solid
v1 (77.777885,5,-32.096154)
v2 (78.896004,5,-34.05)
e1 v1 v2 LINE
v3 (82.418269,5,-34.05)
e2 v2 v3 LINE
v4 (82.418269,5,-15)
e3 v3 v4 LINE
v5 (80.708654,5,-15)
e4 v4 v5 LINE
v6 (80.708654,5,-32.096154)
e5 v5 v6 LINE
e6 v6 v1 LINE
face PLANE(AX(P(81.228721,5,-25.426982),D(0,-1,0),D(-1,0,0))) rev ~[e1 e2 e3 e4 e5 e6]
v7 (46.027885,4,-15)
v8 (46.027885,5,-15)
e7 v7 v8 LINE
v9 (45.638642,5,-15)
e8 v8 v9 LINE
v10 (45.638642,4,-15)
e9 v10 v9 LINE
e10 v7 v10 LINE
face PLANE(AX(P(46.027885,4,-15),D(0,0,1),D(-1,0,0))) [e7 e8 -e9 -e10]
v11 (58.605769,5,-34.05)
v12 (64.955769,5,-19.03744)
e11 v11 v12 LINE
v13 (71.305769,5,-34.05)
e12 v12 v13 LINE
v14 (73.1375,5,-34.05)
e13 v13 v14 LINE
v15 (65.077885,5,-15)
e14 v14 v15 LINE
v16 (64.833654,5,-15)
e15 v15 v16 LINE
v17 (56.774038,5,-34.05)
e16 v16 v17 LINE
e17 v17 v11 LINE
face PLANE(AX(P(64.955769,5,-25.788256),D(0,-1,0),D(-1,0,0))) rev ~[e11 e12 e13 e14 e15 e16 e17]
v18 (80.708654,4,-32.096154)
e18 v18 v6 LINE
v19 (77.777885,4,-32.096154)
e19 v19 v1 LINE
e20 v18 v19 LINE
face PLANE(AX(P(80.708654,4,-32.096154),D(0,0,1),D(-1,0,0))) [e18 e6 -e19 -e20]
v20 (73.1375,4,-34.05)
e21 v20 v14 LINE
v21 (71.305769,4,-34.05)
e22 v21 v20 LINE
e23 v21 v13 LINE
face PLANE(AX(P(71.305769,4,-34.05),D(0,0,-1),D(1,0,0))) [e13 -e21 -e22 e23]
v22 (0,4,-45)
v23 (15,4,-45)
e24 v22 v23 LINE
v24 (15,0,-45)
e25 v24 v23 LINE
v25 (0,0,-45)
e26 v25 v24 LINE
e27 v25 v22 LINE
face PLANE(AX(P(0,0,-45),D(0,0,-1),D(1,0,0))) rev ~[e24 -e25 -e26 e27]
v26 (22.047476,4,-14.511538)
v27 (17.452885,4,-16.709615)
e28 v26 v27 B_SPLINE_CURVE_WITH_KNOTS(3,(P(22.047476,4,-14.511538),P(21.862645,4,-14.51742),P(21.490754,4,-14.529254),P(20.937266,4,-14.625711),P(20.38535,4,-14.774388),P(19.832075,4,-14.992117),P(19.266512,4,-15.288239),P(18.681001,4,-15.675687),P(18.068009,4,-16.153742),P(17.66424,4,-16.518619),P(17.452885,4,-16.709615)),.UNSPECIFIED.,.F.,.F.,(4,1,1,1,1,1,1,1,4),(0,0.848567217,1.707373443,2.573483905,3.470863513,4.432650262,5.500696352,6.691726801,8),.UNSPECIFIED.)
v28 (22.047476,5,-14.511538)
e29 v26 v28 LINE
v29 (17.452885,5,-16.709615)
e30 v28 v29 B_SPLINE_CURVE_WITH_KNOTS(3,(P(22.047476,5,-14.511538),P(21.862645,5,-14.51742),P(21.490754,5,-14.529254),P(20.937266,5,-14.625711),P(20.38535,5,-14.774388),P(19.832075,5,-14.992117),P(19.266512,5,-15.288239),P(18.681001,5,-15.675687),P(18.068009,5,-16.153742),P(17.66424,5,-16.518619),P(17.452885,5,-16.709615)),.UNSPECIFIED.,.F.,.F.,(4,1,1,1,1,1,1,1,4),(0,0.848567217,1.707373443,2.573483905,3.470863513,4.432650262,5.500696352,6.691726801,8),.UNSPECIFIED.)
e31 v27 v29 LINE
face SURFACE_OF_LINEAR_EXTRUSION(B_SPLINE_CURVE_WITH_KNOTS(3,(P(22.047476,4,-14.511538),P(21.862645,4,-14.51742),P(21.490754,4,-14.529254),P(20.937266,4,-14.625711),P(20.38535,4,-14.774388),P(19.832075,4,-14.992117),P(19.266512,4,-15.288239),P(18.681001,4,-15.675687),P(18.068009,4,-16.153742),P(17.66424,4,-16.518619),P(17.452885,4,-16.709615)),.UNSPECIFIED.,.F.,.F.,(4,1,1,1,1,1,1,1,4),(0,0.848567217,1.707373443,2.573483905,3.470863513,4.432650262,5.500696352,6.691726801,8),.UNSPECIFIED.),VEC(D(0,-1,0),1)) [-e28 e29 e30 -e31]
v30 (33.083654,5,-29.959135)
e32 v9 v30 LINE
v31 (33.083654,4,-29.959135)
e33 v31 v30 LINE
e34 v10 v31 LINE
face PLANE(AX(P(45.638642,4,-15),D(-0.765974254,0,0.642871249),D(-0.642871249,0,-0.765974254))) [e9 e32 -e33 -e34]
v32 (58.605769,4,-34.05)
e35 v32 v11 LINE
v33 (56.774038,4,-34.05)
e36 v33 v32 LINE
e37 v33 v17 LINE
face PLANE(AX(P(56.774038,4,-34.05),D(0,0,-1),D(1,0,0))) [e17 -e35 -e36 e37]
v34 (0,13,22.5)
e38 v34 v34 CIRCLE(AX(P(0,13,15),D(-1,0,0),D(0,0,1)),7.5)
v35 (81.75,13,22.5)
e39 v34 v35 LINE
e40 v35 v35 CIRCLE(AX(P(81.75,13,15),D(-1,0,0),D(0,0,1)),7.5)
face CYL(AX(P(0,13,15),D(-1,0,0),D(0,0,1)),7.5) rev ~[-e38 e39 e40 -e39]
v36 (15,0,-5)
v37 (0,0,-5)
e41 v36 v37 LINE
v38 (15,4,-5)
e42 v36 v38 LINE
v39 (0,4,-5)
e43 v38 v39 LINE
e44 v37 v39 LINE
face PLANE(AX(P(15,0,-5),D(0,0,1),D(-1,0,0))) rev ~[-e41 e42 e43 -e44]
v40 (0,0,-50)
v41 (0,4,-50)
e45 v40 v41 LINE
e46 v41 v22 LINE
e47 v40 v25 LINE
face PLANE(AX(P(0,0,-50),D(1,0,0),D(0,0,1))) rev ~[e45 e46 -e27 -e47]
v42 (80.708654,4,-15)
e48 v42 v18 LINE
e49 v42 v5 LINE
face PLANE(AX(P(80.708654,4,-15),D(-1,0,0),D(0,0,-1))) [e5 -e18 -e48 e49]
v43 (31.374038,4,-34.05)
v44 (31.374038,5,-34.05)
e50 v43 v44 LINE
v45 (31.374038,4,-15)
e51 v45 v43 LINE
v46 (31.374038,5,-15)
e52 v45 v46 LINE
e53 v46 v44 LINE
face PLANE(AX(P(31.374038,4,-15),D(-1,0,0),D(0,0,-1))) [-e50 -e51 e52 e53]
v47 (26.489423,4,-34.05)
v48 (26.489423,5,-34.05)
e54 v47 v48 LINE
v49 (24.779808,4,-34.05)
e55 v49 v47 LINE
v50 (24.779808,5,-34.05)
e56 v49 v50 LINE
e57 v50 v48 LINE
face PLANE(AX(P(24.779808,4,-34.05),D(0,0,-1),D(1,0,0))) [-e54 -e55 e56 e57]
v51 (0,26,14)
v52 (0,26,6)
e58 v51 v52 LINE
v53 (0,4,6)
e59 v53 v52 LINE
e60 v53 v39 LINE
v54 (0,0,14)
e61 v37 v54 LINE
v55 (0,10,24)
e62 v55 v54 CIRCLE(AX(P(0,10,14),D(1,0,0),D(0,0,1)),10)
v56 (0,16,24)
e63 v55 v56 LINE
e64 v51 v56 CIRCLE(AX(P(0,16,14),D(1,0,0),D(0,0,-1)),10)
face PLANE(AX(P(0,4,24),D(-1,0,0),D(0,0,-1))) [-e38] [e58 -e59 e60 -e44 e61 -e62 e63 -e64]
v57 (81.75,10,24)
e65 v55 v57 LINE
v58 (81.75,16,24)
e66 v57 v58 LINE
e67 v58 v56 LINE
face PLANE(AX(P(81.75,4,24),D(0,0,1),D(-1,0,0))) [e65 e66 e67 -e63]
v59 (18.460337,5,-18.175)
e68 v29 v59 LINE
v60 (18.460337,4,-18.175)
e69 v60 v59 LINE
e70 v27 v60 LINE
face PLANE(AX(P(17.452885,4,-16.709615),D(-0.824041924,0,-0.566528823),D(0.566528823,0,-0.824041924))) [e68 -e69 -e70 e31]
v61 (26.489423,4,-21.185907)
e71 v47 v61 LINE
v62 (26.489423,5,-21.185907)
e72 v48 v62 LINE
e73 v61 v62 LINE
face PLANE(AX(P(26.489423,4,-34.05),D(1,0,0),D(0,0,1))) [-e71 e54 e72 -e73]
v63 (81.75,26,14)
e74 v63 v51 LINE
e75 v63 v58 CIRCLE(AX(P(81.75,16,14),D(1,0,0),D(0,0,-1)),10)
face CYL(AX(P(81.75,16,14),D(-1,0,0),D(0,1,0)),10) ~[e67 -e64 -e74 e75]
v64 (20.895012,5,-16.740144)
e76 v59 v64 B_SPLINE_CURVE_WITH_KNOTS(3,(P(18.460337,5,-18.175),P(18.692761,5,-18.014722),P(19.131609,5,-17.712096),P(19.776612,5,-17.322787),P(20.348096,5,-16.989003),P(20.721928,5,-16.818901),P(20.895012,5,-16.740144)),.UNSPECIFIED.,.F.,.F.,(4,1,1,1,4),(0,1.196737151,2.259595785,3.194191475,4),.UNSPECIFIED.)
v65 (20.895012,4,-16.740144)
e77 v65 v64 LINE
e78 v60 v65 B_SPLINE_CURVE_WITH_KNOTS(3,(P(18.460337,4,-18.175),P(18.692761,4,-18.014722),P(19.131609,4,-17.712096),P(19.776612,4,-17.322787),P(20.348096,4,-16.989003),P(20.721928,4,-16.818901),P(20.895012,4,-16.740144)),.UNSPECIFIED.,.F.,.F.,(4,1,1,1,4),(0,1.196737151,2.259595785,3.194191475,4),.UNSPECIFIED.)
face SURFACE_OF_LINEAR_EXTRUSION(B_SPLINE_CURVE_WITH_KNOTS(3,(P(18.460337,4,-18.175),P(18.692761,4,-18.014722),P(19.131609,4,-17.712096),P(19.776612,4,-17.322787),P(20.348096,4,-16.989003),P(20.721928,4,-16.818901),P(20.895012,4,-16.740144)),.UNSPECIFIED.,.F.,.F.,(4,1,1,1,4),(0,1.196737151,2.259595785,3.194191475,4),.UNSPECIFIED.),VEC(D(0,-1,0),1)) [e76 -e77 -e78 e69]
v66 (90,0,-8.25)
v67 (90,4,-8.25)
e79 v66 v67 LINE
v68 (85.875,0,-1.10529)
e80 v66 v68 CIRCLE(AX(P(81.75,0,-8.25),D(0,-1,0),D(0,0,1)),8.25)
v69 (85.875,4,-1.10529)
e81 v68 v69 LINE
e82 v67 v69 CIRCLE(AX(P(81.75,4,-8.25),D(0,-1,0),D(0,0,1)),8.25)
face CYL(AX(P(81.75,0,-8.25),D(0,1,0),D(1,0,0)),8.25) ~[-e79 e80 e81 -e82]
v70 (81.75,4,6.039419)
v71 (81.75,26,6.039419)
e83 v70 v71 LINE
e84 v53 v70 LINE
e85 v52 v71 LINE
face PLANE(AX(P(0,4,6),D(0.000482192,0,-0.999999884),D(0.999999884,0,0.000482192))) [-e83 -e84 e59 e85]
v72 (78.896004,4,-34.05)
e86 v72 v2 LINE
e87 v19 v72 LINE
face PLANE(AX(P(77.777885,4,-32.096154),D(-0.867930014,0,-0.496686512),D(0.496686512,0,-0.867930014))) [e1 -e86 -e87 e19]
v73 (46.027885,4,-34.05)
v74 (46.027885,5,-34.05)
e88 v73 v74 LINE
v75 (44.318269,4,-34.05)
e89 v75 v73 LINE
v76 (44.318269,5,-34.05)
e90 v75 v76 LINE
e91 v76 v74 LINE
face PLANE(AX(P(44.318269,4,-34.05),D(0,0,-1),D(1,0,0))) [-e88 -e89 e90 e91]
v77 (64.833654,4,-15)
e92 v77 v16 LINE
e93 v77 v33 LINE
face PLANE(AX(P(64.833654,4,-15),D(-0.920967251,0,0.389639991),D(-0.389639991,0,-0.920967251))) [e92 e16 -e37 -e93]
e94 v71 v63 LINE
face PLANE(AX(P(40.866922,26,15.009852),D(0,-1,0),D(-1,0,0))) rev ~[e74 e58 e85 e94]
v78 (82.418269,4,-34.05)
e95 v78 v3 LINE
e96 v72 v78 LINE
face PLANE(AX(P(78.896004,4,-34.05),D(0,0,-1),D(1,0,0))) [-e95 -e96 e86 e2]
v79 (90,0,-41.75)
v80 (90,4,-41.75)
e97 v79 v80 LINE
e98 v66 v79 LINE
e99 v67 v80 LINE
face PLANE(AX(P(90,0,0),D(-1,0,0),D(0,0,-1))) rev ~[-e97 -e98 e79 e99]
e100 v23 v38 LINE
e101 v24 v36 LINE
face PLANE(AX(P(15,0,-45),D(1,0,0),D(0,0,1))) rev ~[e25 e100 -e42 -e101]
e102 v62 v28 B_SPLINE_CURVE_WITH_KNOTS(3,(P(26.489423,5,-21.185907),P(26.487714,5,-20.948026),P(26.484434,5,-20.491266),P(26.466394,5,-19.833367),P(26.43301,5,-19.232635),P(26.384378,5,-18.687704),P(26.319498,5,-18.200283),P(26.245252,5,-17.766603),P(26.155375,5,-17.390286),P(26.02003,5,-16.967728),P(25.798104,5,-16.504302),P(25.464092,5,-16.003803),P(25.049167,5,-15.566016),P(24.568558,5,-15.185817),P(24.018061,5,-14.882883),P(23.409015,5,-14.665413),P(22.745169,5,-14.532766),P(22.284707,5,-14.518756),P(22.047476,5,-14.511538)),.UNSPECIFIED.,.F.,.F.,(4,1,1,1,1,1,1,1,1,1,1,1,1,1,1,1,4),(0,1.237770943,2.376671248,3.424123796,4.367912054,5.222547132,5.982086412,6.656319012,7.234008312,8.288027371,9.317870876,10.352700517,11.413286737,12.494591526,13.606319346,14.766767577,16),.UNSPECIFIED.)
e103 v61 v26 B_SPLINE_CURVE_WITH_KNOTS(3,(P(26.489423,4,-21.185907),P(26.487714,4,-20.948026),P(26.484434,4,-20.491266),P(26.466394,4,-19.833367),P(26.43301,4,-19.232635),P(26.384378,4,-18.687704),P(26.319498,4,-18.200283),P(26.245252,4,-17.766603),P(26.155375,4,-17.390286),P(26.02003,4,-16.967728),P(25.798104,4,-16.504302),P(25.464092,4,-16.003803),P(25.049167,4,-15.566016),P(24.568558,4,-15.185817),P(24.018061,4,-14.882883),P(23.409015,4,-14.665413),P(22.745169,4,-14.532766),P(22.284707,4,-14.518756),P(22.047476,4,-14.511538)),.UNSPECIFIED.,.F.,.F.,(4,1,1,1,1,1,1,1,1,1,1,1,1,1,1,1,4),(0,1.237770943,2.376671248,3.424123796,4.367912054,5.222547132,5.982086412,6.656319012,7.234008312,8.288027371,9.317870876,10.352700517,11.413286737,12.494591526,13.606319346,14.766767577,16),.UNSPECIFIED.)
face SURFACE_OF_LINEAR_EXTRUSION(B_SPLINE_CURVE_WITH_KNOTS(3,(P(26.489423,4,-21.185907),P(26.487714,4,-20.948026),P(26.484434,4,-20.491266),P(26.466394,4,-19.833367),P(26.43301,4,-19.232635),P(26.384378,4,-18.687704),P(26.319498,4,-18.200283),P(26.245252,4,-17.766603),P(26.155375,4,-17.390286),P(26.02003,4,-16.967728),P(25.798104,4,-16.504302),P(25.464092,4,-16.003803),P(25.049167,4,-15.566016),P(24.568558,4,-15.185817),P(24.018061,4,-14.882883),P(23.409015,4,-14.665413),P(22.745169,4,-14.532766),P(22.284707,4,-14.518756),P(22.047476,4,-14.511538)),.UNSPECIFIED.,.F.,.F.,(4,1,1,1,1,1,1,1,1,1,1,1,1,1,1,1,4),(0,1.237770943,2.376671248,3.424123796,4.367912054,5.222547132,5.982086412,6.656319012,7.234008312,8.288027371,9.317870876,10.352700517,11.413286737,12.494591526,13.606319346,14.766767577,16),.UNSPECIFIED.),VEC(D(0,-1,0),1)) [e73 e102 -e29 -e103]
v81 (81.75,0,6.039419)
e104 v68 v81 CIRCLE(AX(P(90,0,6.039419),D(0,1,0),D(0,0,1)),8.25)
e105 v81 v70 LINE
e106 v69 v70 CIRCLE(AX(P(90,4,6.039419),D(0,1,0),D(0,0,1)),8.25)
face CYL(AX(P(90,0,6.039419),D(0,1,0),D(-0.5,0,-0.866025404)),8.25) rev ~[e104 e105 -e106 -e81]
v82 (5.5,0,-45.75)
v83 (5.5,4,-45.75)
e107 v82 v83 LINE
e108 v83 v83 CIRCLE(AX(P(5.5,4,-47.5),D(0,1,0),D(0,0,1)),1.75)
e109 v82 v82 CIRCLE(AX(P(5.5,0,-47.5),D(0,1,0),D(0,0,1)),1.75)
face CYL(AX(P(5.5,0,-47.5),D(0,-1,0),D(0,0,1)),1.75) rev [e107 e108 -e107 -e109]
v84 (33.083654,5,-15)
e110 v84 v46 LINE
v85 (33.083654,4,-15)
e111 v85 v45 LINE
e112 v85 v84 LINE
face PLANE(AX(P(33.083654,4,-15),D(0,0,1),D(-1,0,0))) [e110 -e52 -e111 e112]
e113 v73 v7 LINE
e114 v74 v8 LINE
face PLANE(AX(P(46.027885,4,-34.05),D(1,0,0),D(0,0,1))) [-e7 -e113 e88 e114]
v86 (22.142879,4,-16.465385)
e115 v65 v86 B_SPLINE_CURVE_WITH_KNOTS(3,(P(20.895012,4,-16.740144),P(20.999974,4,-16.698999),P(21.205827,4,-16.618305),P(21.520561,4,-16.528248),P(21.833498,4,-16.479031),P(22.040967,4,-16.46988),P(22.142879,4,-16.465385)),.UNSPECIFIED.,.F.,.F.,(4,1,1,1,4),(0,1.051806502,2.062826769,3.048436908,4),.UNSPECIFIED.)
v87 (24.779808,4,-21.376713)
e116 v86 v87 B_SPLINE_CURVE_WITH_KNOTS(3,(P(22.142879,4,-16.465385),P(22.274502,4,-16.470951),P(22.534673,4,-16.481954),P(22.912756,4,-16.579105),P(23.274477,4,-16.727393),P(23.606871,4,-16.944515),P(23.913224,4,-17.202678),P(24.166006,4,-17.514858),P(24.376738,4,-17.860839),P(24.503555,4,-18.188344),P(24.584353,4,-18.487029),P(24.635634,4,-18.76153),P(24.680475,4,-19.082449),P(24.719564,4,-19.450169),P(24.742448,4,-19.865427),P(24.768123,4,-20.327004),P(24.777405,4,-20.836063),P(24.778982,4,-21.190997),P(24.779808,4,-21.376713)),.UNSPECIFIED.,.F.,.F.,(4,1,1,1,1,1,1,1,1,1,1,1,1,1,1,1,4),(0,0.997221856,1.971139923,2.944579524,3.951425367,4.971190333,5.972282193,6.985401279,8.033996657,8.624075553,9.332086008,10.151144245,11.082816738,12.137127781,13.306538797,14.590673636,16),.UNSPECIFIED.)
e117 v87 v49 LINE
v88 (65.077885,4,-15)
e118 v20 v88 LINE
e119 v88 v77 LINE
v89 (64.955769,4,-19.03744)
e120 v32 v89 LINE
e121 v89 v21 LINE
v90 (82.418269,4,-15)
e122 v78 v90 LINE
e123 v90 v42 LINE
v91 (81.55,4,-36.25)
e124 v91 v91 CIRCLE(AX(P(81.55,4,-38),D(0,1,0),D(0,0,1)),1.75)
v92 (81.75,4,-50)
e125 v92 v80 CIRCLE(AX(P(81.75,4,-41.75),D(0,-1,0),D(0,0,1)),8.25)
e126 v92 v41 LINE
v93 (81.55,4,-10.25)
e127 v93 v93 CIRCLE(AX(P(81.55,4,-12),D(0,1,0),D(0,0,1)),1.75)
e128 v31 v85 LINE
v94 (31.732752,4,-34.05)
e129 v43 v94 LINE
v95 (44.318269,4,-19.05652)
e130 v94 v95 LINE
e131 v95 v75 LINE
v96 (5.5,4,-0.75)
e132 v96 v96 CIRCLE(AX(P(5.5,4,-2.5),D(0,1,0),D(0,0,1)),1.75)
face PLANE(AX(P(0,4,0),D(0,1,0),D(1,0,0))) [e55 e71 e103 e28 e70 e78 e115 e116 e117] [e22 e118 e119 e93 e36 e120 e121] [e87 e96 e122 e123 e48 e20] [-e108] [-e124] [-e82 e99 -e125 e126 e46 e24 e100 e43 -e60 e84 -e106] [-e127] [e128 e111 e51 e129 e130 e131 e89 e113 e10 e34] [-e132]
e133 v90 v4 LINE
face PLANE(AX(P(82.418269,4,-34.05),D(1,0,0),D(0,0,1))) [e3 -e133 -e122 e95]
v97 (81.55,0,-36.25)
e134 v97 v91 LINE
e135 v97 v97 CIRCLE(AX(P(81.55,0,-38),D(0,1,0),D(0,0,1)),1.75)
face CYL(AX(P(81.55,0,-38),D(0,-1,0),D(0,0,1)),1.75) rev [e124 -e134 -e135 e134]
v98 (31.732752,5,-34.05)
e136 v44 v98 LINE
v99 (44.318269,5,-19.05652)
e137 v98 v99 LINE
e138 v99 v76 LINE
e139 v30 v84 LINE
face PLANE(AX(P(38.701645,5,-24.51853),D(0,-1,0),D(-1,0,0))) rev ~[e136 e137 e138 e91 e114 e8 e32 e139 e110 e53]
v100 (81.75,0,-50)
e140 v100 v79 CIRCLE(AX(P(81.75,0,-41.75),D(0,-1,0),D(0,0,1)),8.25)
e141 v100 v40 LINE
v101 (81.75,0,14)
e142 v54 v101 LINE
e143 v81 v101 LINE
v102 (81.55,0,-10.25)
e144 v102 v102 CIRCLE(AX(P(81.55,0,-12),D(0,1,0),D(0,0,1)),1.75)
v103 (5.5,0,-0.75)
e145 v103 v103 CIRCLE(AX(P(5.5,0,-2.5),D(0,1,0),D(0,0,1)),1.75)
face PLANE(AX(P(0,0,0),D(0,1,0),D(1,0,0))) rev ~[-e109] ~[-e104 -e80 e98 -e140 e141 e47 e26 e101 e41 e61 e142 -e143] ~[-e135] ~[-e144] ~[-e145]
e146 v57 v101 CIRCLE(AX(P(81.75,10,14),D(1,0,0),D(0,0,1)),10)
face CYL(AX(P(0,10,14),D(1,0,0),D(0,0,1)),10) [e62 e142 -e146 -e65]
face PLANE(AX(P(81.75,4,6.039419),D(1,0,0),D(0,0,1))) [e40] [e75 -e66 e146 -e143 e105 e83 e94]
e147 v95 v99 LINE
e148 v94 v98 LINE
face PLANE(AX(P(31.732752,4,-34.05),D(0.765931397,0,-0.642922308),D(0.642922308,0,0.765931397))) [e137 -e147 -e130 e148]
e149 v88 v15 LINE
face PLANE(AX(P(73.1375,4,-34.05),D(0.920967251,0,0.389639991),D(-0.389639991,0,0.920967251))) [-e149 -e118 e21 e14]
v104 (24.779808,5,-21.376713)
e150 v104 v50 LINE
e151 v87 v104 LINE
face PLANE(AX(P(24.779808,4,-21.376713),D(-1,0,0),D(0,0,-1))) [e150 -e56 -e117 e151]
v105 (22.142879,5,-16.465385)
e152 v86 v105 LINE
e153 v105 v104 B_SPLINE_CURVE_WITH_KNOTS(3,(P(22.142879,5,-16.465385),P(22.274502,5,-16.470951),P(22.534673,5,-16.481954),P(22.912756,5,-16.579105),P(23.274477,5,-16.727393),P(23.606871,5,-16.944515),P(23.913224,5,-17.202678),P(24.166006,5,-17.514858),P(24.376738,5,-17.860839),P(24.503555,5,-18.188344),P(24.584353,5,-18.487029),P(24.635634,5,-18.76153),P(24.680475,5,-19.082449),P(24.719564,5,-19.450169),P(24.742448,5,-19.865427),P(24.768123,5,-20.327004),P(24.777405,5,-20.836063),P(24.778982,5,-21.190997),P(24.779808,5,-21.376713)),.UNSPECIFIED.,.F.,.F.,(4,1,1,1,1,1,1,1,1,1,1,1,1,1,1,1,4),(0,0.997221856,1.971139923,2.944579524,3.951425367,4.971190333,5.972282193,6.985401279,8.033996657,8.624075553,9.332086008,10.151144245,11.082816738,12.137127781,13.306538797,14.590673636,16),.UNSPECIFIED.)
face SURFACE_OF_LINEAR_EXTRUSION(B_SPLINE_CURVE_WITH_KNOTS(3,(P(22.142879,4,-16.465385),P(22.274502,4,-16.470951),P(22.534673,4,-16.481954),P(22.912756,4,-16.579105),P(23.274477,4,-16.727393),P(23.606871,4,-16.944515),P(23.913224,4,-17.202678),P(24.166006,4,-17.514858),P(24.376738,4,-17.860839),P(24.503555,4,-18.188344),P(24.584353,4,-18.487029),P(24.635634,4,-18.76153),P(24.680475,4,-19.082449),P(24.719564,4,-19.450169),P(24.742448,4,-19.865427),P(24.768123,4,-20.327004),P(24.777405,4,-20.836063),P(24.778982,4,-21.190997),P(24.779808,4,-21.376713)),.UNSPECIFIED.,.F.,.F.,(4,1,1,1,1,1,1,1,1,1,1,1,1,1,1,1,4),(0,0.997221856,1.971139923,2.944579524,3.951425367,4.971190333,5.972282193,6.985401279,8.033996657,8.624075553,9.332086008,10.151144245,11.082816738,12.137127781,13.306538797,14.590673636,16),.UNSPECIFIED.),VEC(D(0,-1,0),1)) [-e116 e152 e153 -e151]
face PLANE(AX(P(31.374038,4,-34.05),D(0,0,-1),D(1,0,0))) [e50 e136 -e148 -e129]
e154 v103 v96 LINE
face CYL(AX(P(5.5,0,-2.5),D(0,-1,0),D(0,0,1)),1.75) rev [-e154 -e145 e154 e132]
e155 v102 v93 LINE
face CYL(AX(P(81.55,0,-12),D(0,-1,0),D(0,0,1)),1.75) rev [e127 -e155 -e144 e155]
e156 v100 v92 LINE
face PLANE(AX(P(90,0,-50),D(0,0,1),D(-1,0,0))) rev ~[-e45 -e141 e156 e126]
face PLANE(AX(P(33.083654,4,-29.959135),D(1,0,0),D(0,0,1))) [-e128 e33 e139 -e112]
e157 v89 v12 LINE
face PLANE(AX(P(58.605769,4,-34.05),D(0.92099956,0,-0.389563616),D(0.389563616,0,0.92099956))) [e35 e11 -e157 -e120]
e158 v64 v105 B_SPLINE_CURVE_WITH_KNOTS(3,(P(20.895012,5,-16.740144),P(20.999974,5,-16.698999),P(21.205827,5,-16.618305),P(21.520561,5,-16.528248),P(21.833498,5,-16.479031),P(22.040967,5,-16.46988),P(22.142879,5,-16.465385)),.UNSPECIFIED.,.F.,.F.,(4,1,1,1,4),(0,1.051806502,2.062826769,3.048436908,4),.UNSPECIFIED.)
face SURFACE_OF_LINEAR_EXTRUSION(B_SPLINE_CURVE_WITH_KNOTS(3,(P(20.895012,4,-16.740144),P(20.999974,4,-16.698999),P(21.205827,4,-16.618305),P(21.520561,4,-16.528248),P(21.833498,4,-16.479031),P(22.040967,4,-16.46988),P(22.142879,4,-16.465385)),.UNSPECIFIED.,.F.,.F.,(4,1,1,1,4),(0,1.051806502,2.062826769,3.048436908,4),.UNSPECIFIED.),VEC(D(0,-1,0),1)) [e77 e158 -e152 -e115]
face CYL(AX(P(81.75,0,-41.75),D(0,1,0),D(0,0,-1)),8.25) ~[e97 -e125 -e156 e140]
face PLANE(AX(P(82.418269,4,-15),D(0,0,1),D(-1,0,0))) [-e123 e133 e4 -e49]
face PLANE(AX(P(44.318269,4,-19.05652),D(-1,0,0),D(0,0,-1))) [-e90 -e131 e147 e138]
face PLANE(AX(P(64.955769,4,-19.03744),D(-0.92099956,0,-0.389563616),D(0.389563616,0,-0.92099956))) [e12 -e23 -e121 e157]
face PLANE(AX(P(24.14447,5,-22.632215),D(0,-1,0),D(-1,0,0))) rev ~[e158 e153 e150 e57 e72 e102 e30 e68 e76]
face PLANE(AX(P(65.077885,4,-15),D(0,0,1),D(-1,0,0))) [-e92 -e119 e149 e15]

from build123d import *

# Parameters (mm, degrees)
SKETCH1_R           = 1.75
BOSS_EXTRUDE1_DEPTH = 4
FILLET1_R           = 8.25
SKETCH2_W           = 81.75
SKETCH2_H           = 4
BOSS_EXTRUDE2_DEPTH = 24
FILLET3_R           = 8.25
BOSS_EXTRUDE4_DEPTH = 1
BOSS_EXTRUDE6_DEPTH = 22
SKETCH7_R           = 7.5
CUT_EXTRUDE2_DEPTH  = 115
FILLET6_R           = 10


with BuildPart() as part:
    # Sketch1 → Boss-Extrude1 (new body)
    with BuildSketch(Plane(origin=(0, 0, 0), x_dir=(1, 0, 0), z_dir=(0, 1, 0))):
        Polygon((0, 45), (15, 45), (15, 5), (0, 5), (0, 0), (90, 0), (90, 50), (0, 50), align=None)
        with Locations(Location((5.5, 2.5, 0), (0, 0, 270))):
            Circle(SKETCH1_R, mode=Mode.SUBTRACT)
        with Locations(Location((5.5, 47.5, 0), (0, 0, 270))):
            Circle(SKETCH1_R, mode=Mode.SUBTRACT)
        with Locations(Location((81.55, 12, 0), (0, 0, 270))):
            Circle(SKETCH1_R, mode=Mode.SUBTRACT)
        with Locations(Location((81.55, 38, 0), (0, 0, 270))):
            Circle(SKETCH1_R, mode=Mode.SUBTRACT)
    extrude(amount=BOSS_EXTRUDE1_DEPTH)

    # Fillet1
    fillet1_edges = [part.edges().sort_by_distance(p)[0] for p in [
        (90, 2, -50),
        (90, 2, 0),
    ]]
    fillet(fillet1_edges, radius=FILLET1_R)

    # Sketch2 → Boss-Extrude2 (add)
    with BuildSketch(Plane.XY):
        with Locations((40.875, 2)):
            Rectangle(SKETCH2_W, SKETCH2_H)
    extrude(amount=BOSS_EXTRUDE2_DEPTH)

    # Fillet3
    fillet3_edges = [part.edges().sort_by_distance(p)[0] for p in [
        (81.75, 2, 0),
    ]]
    fillet(fillet3_edges, radius=FILLET3_R)

    # Sketch5 → Boss-Extrude4 (add)
    with BuildSketch(Plane(origin=(0, 4, 0), x_dir=(1, 0, 0), z_dir=(0, 1, 0))):
        Polygon((78.896003606, 34.05), (82.418269231, 34.05), (82.418269231, 15), (80.708653846, 15), (80.708653846, 32.096153846), (77.777884615, 32.096153846), align=None)
        Polygon((56.774038462, 34.05), (58.605769231, 34.05), (64.955769231, 19.037439904), (71.305769231, 34.05), (73.1375, 34.05), (65.077884615, 15), (64.833653846, 15), align=None)
        Polygon((31.374038462, 15), (31.374038462, 34.05), (31.732752404, 34.05), (44.318269231, 19.056520433), (44.318269231, 34.05), (46.027884615, 34.05), (46.027884615, 15), (45.638641827, 15), (33.083653846, 29.959134615), (33.083653846, 15), align=None)
        with BuildLine():
            Line((24.779807692, 34.05), (26.489423077, 34.05))
            Line((26.489423077, 34.05), (26.489423077, 21.185907452))
            add(Edge.make_bspline(
                [(26.489423077, 21.185907452), (26.487714463, 20.94802645), (26.484433715, 20.4912659), (26.466393852, 19.833366552), (26.433010208, 19.232634675), (26.384378211, 18.68770427), (26.319498087, 18.200282505), (26.245251919, 17.766603171), (26.155375115, 17.390285757), (26.020030491, 16.967727607), (25.798103714, 16.504302041), (25.464091692, 16.003803293), (25.049167471, 15.566015729), (24.568557562, 15.185817326), (24.018061417, 14.882882968), (23.409015395, 14.66541264), (22.745168684, 14.532765549), (22.284707257, 14.518756151), (22.047475962, 14.511538462)],
                knots=[0, 0, 0, 0, 1.237770943, 2.376671248, 3.424123796, 4.367912054, 5.222547132, 5.982086412, 6.656319012, 7.234008312, 8.288027371, 9.317870876, 10.352700517, 11.413286737, 12.494591526, 13.606319346, 14.766767577, 16, 16, 16, 16], degree=3))
            add(Edge.make_bspline(
                [(22.047475962, 14.511538462), (21.862645469, 14.517420063), (21.490754275, 14.529254234), (20.937266275, 14.625710986), (20.385349806, 14.774388308), (19.832075492, 14.99211672), (19.266512335, 15.28823862), (18.681000534, 15.675687408), (18.068008595, 16.153741858), (17.664239566, 16.518618731), (17.452884615, 16.709615385)],
                knots=[0, 0, 0, 0, 0.848567217, 1.707373443, 2.573483905, 3.470863513, 4.432650262, 5.500696352, 6.691726801, 8, 8, 8, 8], degree=3))
            Line((17.452884615, 16.709615385), (18.460336538, 18.175))
            add(Edge.make_bspline(
                [(18.460336538, 18.175), (18.69276112, 18.014722029), (19.131609036, 17.712096322), (19.776611779, 17.322787254), (20.348096283, 16.989003138), (20.721927753, 16.818901448), (20.895012019, 16.740144231)],
                knots=[0, 0, 0, 0, 1.196737151, 2.259595785, 3.194191475, 4, 4, 4, 4], degree=3))
            add(Edge.make_bspline(
                [(20.895012019, 16.740144231), (20.999973772, 16.698999184), (21.205827143, 16.618304586), (21.520560791, 16.528247625), (21.833498063, 16.47903108), (22.040967226, 16.469879824), (22.142878606, 16.465384615)],
                knots=[0, 0, 0, 0, 1.051806502, 2.062826769, 3.048436908, 4, 4, 4, 4], degree=3))
            add(Edge.make_bspline(
                [(22.142878606, 16.465384615), (22.274502068, 16.470951216), (22.534673123, 16.481954332), (22.912755719, 16.579105387), (23.274477289, 16.72739278), (23.606870712, 16.944515394), (23.913224033, 17.202677841), (24.166005698, 17.514858402), (24.376738129, 17.860838972), (24.503555031, 18.1883436), (24.584353004, 18.487029259), (24.635633573, 18.761529612), (24.680475425, 19.082448517), (24.719563586, 19.450169036), (24.742447919, 19.86542737), (24.768123361, 20.327004205), (24.777404852, 20.83606327), (24.778982306, 21.190997165), (24.779807692, 21.37671274)],
                knots=[0, 0, 0, 0, 0.997221856, 1.971139923, 2.944579524, 3.951425367, 4.971190333, 5.972282193, 6.985401279, 8.033996657, 8.624075553, 9.332086008, 10.151144245, 11.082816738, 12.137127781, 13.306538797, 14.590673636, 16, 16, 16, 16], degree=3))
            Line((24.779807692, 21.37671274), (24.779807692, 34.05))
        make_face()
    extrude(amount=BOSS_EXTRUDE4_DEPTH)

    # Sketch6 → Boss-Extrude6 (add)
    with BuildSketch(Plane(origin=(0, 4, 0), x_dir=(1, 0, 0), z_dir=(0, 1, 0))):
        Polygon((0, -24), (0, -6), (81.75, -6.039419162), (81.75, -24), align=None)
    extrude(amount=BOSS_EXTRUDE6_DEPTH)

    # Sketch7 → Cut-Extrude2 (cut)
    with BuildSketch(Plane.ZY):
        with Locations((15, 13)):
            Circle(SKETCH7_R)
    extrude(amount=-CUT_EXTRUDE2_DEPTH, mode=Mode.SUBTRACT)

    # Fillet6
    fillet6_edges = [part.edges().sort_by_distance(p)[0] for p in [
        (40.875, 26, 24),
        (40.875, 0, 24),
    ]]
    fillet(fillet6_edges, radius=FILLET6_R)


solid = part.part
